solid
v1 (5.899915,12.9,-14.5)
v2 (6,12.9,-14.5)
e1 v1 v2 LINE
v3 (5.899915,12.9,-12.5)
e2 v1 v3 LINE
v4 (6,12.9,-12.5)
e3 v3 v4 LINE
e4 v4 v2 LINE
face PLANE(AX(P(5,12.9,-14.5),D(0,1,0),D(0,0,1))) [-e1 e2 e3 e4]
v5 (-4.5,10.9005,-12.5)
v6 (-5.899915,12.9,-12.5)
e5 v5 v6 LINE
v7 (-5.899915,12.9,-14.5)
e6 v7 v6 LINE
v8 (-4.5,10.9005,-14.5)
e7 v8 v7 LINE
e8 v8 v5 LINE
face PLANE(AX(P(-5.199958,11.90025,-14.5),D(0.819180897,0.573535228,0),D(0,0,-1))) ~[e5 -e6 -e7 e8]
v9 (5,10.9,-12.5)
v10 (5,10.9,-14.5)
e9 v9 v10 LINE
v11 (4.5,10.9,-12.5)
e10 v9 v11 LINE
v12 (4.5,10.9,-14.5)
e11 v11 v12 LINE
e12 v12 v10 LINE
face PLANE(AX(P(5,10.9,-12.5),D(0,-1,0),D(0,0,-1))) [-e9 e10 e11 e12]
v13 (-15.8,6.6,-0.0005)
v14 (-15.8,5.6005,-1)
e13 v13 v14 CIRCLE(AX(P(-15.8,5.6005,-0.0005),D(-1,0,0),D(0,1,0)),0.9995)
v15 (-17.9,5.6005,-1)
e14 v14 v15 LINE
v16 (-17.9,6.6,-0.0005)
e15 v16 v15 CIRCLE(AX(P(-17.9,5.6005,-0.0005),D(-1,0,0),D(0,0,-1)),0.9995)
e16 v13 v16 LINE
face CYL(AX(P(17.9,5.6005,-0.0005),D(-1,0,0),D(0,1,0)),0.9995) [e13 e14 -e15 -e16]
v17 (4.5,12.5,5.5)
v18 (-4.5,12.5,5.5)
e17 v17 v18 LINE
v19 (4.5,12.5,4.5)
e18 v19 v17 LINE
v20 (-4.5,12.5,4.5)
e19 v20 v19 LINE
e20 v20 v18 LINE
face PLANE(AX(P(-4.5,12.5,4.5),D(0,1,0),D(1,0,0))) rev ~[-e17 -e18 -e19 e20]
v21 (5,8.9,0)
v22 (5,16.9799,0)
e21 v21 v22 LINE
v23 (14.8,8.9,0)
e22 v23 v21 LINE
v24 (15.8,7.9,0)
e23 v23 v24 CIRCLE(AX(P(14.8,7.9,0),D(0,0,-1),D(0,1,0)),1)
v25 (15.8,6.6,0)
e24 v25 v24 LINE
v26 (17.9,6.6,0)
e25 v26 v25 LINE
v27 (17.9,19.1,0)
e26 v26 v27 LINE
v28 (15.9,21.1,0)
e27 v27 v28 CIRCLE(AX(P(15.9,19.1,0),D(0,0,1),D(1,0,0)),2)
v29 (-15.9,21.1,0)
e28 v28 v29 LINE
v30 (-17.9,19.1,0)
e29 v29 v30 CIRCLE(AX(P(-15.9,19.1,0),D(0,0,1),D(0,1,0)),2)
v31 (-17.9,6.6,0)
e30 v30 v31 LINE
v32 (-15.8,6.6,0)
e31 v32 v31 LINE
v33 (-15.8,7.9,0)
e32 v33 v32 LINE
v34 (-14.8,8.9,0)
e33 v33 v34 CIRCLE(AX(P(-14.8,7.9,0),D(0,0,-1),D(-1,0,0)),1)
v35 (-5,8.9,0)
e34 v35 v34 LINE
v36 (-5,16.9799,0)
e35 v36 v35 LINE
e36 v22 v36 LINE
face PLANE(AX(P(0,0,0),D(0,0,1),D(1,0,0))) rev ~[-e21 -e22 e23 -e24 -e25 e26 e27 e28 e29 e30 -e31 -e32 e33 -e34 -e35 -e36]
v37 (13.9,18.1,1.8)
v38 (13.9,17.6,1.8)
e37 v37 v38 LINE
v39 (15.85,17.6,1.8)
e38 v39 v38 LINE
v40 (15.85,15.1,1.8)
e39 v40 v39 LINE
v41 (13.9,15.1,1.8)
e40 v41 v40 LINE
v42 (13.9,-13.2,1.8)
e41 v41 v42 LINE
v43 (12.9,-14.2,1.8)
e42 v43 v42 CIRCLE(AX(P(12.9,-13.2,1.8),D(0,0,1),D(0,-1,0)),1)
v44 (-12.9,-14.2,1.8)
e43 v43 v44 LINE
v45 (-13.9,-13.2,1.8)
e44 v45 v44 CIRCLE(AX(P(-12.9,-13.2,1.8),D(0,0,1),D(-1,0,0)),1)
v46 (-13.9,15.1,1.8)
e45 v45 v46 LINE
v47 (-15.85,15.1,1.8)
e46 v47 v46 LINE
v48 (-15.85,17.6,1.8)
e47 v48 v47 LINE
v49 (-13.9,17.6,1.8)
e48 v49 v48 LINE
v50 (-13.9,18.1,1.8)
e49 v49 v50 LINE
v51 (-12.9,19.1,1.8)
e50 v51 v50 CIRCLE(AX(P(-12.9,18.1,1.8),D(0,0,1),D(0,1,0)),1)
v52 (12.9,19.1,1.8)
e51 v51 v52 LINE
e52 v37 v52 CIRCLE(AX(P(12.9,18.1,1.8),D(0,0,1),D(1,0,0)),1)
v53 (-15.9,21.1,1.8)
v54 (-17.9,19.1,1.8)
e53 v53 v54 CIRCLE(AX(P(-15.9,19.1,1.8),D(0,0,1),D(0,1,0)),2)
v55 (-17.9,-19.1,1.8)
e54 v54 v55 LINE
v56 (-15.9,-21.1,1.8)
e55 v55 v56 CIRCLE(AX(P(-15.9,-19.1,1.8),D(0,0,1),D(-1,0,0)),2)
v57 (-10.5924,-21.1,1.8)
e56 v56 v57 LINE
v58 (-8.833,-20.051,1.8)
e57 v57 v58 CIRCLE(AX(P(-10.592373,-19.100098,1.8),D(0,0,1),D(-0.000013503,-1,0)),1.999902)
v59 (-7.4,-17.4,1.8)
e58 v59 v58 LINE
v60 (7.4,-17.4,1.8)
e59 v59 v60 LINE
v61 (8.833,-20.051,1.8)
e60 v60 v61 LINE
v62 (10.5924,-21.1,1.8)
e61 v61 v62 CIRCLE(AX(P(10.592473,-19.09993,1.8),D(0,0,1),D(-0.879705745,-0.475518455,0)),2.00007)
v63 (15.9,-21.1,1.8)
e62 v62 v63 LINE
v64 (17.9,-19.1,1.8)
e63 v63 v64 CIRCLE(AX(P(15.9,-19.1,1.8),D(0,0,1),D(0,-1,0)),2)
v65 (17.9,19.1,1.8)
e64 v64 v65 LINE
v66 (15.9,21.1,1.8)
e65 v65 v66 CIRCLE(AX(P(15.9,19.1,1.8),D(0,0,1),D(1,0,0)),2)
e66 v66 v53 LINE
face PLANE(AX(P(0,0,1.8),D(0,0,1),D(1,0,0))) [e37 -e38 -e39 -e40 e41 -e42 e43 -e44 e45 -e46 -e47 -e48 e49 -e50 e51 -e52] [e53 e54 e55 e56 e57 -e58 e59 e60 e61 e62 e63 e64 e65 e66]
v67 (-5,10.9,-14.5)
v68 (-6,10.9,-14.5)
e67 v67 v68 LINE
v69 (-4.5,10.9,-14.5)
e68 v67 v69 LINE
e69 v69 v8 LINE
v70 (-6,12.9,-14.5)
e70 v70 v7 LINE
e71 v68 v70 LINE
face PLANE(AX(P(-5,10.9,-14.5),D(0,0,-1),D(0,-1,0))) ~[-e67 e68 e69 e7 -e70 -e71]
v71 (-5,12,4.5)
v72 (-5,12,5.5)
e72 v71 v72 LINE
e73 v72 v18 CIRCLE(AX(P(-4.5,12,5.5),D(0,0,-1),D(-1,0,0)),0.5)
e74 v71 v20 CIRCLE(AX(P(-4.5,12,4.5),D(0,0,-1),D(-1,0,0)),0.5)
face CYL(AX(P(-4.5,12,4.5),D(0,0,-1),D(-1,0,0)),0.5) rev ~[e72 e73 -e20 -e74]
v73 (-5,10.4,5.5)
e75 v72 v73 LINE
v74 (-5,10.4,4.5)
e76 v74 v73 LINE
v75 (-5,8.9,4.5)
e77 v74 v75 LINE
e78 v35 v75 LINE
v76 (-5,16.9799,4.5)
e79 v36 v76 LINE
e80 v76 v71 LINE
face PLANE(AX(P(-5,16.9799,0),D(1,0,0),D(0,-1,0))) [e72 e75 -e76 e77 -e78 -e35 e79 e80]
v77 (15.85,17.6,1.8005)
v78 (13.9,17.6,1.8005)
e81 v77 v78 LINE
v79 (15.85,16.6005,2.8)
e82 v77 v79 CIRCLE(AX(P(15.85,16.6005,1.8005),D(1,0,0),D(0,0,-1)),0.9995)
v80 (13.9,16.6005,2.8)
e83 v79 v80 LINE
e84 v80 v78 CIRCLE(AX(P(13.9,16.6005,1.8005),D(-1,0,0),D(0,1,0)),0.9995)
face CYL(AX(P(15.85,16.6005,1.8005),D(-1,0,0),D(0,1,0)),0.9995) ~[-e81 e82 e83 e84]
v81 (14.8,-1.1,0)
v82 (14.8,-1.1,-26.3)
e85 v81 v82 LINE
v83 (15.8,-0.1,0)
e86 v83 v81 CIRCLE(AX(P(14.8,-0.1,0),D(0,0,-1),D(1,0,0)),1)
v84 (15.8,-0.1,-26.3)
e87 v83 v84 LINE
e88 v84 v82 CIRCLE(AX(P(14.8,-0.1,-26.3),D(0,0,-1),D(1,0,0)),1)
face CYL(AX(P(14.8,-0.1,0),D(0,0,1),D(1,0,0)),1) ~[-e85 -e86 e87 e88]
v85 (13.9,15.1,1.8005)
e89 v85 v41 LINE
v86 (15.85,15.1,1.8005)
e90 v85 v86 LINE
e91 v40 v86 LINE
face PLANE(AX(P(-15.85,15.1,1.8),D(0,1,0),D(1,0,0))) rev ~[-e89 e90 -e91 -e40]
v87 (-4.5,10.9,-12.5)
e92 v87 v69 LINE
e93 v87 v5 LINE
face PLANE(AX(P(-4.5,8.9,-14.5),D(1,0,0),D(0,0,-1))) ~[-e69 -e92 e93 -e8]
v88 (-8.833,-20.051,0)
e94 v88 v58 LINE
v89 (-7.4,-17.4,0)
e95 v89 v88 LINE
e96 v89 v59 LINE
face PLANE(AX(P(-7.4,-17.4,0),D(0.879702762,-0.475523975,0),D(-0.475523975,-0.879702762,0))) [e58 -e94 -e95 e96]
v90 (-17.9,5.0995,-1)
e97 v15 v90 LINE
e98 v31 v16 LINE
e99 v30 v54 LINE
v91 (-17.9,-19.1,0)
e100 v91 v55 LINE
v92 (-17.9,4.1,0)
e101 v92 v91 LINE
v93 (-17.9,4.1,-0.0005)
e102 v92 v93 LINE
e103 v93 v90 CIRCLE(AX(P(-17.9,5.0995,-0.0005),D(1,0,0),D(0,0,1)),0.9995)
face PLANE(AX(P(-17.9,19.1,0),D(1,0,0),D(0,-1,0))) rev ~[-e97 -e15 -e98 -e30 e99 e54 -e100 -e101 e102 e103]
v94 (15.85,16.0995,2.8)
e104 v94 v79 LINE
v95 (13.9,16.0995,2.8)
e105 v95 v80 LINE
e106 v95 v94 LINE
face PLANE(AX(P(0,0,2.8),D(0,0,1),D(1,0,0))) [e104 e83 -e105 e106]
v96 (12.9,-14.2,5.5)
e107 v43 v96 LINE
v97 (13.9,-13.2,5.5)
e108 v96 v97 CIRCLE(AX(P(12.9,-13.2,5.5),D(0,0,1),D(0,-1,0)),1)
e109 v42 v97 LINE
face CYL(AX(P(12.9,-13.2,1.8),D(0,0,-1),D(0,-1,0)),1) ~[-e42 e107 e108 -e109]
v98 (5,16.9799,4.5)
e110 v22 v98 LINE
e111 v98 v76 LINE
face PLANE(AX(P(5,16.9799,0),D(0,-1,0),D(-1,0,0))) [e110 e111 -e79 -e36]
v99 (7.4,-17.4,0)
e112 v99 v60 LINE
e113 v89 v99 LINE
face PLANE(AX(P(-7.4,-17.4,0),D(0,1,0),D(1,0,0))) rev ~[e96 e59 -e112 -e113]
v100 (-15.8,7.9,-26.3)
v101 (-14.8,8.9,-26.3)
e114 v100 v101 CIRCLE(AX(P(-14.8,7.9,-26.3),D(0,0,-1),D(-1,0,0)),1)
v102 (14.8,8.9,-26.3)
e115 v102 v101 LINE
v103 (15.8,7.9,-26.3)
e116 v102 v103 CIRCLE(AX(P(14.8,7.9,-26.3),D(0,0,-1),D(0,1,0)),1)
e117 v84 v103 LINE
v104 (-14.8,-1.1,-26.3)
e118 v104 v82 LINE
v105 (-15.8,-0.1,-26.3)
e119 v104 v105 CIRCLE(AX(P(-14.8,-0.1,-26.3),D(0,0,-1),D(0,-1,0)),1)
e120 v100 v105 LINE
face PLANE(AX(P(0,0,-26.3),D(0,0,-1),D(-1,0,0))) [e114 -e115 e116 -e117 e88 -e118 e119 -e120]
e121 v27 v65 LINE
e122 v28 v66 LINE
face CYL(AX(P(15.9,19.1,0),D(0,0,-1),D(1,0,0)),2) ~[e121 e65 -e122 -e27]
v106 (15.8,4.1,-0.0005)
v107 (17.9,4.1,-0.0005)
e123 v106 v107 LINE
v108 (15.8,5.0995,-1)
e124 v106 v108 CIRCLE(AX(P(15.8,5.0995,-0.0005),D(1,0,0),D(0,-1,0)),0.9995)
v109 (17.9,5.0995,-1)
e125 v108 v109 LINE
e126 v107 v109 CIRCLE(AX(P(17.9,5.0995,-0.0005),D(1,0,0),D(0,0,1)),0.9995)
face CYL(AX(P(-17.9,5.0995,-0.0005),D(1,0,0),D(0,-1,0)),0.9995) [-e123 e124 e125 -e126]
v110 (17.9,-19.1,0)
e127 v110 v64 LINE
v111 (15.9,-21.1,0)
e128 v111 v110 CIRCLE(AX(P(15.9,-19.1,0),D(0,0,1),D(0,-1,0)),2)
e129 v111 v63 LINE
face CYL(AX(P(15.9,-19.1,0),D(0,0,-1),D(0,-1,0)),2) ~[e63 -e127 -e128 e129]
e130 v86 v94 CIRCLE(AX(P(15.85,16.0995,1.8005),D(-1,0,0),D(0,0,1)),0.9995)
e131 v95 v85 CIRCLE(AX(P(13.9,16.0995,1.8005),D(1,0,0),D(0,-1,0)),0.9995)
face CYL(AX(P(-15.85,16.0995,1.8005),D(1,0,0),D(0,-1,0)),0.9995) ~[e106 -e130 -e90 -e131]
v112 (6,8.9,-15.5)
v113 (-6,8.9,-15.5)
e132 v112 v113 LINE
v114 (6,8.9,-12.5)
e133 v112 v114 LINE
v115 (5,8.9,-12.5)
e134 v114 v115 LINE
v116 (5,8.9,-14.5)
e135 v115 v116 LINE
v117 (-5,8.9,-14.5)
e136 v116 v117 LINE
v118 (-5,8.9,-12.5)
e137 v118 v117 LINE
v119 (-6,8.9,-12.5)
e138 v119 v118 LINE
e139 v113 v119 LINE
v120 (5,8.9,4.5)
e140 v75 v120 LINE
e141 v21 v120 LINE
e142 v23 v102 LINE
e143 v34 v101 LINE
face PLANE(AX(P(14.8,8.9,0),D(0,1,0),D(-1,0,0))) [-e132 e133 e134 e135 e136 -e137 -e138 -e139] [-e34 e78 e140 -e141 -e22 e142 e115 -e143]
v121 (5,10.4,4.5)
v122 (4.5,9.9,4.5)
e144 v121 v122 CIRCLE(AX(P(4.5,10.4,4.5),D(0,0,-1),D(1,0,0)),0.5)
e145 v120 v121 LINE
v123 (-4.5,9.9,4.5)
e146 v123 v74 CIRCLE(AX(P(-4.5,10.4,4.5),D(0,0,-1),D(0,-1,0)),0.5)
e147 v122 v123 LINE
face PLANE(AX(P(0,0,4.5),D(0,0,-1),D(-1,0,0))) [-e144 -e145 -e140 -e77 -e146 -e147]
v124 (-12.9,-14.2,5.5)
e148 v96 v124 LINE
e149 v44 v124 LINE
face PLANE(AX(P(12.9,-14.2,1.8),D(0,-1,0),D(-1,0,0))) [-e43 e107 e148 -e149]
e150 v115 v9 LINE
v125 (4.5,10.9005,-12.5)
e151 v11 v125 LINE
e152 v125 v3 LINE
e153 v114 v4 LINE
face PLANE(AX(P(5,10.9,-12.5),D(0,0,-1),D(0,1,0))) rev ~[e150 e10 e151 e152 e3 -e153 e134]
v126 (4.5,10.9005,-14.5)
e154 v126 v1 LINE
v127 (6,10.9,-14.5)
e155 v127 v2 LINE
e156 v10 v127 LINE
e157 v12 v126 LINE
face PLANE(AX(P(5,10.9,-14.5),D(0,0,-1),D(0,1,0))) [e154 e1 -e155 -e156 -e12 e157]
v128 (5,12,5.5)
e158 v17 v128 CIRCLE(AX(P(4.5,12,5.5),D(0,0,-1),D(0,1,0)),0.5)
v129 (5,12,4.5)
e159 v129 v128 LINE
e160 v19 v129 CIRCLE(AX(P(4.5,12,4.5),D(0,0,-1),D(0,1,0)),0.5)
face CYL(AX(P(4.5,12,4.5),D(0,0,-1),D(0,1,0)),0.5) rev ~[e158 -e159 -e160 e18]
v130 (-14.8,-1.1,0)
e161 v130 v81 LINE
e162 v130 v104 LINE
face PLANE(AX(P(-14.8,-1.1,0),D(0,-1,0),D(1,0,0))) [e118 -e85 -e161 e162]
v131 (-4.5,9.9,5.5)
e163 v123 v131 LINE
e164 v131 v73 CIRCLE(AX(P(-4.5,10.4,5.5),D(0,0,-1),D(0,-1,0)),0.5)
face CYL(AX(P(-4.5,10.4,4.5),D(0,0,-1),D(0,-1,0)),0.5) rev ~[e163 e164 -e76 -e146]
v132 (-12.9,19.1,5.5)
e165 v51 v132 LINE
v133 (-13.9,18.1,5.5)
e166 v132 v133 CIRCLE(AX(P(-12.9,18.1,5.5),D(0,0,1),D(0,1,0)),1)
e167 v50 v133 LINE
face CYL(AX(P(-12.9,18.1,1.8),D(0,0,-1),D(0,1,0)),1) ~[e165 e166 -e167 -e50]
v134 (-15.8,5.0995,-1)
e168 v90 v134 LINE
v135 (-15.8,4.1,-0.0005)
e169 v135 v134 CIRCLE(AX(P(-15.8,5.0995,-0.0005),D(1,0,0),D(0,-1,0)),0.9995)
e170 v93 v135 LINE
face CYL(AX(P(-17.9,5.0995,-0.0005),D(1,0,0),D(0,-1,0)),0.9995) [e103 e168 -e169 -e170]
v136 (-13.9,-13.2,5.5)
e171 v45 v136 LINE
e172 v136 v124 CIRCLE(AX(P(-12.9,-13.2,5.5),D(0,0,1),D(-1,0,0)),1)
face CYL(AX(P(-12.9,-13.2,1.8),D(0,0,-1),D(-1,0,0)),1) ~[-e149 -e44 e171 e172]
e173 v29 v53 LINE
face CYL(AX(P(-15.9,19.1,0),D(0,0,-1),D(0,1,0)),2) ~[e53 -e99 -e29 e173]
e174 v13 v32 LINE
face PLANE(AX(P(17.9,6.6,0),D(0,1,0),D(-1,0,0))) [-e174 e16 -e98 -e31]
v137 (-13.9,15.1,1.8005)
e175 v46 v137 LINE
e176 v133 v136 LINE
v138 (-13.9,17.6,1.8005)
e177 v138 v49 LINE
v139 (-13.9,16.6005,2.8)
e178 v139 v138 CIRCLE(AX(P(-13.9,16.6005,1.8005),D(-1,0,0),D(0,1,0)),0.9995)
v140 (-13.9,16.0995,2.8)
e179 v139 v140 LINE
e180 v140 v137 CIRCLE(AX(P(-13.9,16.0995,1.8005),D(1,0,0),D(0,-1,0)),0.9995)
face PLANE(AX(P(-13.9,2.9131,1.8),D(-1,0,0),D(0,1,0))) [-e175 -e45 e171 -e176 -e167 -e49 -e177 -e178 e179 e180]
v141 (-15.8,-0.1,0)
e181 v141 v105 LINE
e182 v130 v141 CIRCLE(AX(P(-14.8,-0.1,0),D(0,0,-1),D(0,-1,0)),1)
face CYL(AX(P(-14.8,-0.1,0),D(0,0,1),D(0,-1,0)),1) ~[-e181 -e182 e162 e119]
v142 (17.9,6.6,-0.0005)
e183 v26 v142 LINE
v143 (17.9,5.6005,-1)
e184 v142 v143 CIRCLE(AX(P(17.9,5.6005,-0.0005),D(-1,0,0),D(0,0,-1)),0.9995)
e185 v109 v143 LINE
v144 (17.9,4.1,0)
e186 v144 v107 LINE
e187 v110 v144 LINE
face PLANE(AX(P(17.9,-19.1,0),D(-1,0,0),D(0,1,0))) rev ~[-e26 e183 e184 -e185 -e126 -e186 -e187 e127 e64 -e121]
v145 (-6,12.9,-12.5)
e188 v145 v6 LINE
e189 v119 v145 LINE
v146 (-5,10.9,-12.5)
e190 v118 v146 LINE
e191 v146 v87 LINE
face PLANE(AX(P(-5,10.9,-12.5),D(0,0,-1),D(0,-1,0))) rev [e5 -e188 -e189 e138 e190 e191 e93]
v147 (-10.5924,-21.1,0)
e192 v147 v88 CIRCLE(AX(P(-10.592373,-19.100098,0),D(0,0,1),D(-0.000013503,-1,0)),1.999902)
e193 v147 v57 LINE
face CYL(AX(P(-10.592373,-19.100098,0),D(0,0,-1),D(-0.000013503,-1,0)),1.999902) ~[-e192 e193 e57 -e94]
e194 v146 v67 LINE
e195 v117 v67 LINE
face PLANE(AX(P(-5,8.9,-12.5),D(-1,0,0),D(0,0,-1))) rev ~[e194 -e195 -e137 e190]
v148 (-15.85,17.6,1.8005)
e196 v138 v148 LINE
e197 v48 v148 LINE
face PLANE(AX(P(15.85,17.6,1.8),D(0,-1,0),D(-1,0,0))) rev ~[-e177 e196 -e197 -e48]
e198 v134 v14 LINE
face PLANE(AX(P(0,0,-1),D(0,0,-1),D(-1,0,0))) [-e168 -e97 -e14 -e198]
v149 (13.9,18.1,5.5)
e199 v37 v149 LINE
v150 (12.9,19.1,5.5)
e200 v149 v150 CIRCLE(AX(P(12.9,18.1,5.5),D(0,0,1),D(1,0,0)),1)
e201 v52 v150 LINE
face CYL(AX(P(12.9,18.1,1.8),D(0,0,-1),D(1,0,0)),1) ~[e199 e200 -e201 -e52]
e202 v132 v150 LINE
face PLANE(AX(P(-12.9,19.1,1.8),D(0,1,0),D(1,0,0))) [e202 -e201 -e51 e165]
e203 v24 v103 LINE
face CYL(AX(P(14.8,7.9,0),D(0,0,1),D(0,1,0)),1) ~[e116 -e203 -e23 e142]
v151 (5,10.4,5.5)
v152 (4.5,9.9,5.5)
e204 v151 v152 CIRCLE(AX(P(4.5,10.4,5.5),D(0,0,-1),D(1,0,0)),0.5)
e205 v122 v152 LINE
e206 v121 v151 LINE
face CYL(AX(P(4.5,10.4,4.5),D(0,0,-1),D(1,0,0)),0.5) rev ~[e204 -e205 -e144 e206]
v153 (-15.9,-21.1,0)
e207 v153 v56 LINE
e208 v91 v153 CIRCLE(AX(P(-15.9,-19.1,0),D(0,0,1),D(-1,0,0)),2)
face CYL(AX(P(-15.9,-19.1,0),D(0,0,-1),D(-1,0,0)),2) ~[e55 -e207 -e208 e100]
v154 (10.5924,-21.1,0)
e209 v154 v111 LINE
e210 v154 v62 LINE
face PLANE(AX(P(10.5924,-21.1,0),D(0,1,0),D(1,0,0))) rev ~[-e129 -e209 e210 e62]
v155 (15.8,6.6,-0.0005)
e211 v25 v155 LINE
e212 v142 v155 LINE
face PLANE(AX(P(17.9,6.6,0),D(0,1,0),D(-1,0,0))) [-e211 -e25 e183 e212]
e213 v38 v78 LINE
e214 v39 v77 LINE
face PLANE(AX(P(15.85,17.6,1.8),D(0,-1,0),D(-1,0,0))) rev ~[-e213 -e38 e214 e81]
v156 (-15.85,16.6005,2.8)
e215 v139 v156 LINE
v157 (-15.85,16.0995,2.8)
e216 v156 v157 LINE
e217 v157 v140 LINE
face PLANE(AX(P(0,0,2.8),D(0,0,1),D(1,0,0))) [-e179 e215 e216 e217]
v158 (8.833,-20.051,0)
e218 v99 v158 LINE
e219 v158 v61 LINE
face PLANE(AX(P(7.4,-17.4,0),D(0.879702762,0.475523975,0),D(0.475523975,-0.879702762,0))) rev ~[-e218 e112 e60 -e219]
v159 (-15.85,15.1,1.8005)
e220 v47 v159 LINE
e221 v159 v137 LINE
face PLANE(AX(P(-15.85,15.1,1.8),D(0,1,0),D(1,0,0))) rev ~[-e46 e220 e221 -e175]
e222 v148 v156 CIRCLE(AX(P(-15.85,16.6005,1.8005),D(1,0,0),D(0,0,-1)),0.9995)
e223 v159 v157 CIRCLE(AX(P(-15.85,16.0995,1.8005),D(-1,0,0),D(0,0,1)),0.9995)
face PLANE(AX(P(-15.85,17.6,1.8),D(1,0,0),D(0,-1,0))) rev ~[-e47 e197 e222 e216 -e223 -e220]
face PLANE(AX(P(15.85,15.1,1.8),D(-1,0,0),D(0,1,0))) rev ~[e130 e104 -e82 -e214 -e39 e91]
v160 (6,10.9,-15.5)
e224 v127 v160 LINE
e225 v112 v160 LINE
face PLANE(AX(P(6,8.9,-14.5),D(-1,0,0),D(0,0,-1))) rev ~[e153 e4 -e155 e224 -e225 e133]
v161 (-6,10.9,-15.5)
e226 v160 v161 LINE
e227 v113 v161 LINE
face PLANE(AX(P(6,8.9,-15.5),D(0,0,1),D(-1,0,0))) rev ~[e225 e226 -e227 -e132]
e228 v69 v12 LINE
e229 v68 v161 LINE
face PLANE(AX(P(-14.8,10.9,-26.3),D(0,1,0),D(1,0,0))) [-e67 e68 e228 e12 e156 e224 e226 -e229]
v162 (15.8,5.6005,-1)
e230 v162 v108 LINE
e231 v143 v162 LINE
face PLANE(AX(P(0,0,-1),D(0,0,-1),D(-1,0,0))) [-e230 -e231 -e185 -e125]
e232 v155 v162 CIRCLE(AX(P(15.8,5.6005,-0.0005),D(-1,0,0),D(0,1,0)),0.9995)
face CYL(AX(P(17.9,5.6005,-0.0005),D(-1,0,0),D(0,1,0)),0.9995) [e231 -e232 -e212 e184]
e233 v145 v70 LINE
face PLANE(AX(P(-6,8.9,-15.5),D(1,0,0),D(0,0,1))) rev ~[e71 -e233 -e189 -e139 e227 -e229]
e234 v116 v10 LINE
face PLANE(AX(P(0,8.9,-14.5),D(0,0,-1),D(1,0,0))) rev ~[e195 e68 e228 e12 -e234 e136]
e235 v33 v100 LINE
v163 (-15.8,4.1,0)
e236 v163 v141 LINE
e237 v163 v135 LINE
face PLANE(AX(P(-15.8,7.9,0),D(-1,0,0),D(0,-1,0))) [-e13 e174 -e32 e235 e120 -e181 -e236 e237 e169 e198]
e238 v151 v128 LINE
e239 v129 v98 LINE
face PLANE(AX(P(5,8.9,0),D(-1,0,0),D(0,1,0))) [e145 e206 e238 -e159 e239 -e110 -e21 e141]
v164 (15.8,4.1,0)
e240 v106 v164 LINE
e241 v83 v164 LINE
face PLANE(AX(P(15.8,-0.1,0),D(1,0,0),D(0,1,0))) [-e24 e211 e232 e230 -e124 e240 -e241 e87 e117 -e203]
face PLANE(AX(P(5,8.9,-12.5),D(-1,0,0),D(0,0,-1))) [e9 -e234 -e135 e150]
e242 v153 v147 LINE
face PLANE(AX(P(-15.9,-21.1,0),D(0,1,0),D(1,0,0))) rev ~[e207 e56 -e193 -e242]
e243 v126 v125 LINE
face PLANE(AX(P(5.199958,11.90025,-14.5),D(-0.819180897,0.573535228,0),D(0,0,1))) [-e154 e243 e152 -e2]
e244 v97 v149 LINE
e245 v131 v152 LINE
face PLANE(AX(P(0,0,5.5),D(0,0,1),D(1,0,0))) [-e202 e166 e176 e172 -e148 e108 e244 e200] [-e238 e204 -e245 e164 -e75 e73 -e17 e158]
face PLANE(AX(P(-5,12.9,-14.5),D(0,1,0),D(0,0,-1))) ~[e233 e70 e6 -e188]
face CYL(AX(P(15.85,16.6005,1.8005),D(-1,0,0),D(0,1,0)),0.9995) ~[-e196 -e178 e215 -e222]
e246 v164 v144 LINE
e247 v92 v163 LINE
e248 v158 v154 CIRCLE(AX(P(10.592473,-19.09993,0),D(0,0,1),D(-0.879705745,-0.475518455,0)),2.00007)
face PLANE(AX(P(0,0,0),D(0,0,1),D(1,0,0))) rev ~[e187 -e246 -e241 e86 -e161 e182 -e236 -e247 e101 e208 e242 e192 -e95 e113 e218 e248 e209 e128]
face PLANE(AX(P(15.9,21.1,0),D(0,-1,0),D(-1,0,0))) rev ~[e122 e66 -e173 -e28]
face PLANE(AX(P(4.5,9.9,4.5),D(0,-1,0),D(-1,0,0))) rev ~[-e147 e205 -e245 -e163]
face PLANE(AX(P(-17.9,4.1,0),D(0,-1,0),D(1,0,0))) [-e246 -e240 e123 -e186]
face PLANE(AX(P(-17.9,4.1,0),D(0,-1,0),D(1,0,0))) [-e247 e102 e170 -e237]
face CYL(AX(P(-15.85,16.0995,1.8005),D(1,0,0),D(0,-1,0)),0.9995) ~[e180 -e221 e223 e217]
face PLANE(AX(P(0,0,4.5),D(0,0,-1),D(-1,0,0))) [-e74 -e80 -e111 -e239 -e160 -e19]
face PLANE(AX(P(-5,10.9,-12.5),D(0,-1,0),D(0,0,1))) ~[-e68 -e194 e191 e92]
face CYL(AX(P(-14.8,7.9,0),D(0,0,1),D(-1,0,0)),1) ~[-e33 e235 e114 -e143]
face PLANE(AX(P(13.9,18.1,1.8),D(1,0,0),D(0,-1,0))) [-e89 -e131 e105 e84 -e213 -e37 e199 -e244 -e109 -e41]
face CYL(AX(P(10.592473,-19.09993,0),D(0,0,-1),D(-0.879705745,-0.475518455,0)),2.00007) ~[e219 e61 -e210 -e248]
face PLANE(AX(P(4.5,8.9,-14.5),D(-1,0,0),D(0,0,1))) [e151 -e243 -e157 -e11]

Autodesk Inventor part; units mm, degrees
ref_plane "YZ Plane" through (0, 0, 0) normal (1, 0, 0) x (0, 1, 0)
ref_plane "XZ Plane" through (0, 0, 0) normal (0, 1, 0) x (-1, 0, 0)
ref_plane "XY Plane" through (0, 0, 0) normal (0, 0, 1) x (1, 0, 0)
sketch "Sketch1" plane through (0, 0, 0) normal (0, 0, 1) x (1, 0, 0)
  line L0 (17.9, -19.1) -> (17.9, 19.1)
  line L1 (15.9, 21.1) -> (-15.9, 21.1)
  line L2 (-17.9, 19.1) -> (-17.9, -19.1)
  line L3 (-15.9, -21.1) -> (-10.5924, -21.1)
  line L4 (17.9, -21.1) -> (-17.9, 21.1) construction
  line L5 (17.9, 21.1) -> (-17.9, -21.1) construction
  line L6 (-7.4, -17.4) -> (7.4, -17.4)
  line L7 (-7.4, -17.4) -> (-8.833, -20.051)
  line L8 (7.4, -17.4) -> (8.833, -20.051)
  line L9 (10.5924, -21.1) -> (15.9, -21.1)
  line L10 (-9.4, -21.1) -> (9.4, -21.1)
  arc A0 (-15.9, 21.1) -> (-17.9, 19.1) centre (-15.9, 19.1) ccw
  arc A1 (17.9, 19.1) -> (15.9, 21.1) centre (15.9, 19.1) ccw
  arc A2 (15.9, -21.1) -> (17.9, -19.1) centre (15.9, -19.1) ccw
  arc A3 (8.833, -20.051) -> (10.5924, -21.1) centre (10.5924, -19.1) ccw
  arc A4 (-10.5924, -21.1) -> (-8.833, -20.051) centre (-10.5924, -19.1) ccw
  arc A5 (-17.9, -19.1) -> (-15.9, -21.1) centre (-15.9, -19.1) ccw
  point P0 (0, 0)
  dimension "d0" = 35.8
  dimension "d1" = 42.2
  dimension "d2" = 38.5
  dimension "d3" = 10.5
  dimension "d4" = 10.5
  dimension "d5" = 8.5
  dimension "d6" = 8.5
  dimension "d7" = 2
extrude "Extrusion1" add sketch "Sketch1" along normal blind 1.8
sketch "Sketch2" plane through (0, 0, 1.8) normal (0, 0, 1) x (1, 0, 0)
  line L0 (-15.85, 15.1) -> (15.85, 15.1)
  line L1 (15.85, 15.1) -> (15.85, 17.6)
  line L2 (15.85, 17.6) -> (-15.85, 17.6)
  line L3 (-15.85, 17.6) -> (-15.85, 15.1)
  line L4 (-15.85, 15.1) -> (15.85, 17.6) construction
  line L5 (15.85, 15.1) -> (-15.85, 17.6) construction
  line L6 (15.9, 21.1) -> (-15.9, 21.1) projected
  point P0 (0, 0)
  point P1 (0, 16.35)
  point P2 (0, 16.35)
  point P3 (15.85, 16.35)
  point P4 (-15.85, 16.35)
  dimension "d10" = 2.5
  dimension "d11" = 6
  dimension "d12" = 31.7
extrude "Extrusion2" add sketch "Sketch2" along normal blind 1
fillet "Fillet1" radius 1 2 edges at (0, 17.6, 2.8) (0, 15.1, 2.8)
sketch "Sketch3" plane through (0, 0, 1.8) normal (0, 0, 1) x (1, 0, 0)
  line L0 (-12.9, 19.1) -> (12.9, 19.1)
  line L1 (13.9, 18.1) -> (13.9, -13.2)
  line L2 (12.9, -14.2) -> (-12.9, -14.2)
  line L3 (-13.9, -13.2) -> (-13.9, 18.1)
  line L4 (15.9, 21.1) -> (-15.9, 21.1) projected
  line L5 (-13.9, 2.9131) -> (-17.9, 2.9131)
  line L6 (-17.9, 19.1) -> (-17.9, -19.1) projected
  line L7 (13.9, 2.9131) -> (17.9, 2.9131)
  line L8 (17.9, -19.1) -> (17.9, 19.1) projected
  arc A0 (-12.9, 19.1) -> (-13.9, 18.1) centre (-12.9, 18.1) ccw
  arc A1 (13.9, 18.1) -> (12.9, 19.1) centre (12.9, 18.1) ccw
  arc A2 (12.9, -14.2) -> (13.9, -13.2) centre (12.9, -13.2) ccw
  arc A3 (-13.9, -13.2) -> (-12.9, -14.2) centre (-12.9, -13.2) ccw
  point P0 (0, 0)
  point P1 (13.9, -14.2)
  point P2 (13.9, 19.1)
  point P3 (-13.9, -14.2)
  dimension "d16" = 27.8
  dimension "d17" = 33.3
  dimension "d18" = 2
  dimension "d19" = 1
extrude "Extrusion3" add sketch "Sketch3" along normal blind 3.7
sketch "Sketch4" plane through (0, 0, 0) normal (0, 0, -1) x (-1, 0, 0)
  line L0 (-17.9, -19.1) -> (-17.9, 19.1) projected
  line L1 (17.9, 19.1) -> (17.9, -19.1) projected
  line L2 (-17.9, 6.6) -> (17.9, 6.6)
  line L3 (17.9, 6.6) -> (17.9, 4.1)
  line L4 (17.9, 4.1) -> (-17.9, 4.1)
  line L5 (-17.9, 4.1) -> (-17.9, 6.6)
  line L6 (-15.9, 21.1) -> (15.9, 21.1) projected
  point P0 (0, 0)
  dimension "d22" = 2.5
  dimension "d23" = 17
extrude "Extrusion4" add sketch "Sketch4" along normal blind 1
fillet "Fillet2" radius 1 2 edges at (0, 6.6, -1) (0, 4.1, -1)
sketch "Sketch5" plane through (0, 0, 0) normal (0, 0, -1) x (-1, 0, 0)
  line L0 (-14.8, 8.9) -> (14.8, 8.9)
  line L1 (15.8, 7.9) -> (15.8, -0.1)
  line L2 (14.8, -1.1) -> (-14.8, -1.1)
  line L3 (-15.8, -0.1) -> (-15.8, 7.9)
  line L4 (-15.9, 21.1) -> (15.9, 21.1) projected
  line L5 (-17.9, 6.6) -> (-17.9, 19.1) projected
  line L6 (17.9, 4.1) -> (17.9, -19.1) projected
  arc A0 (-15.8, -0.1) -> (-14.8, -1.1) centre (-14.8, -0.1) ccw
  arc A1 (-14.8, 8.9) -> (-15.8, 7.9) centre (-14.8, 7.9) ccw
  arc A2 (15.8, 7.9) -> (14.8, 8.9) centre (14.8, 7.9) ccw
  arc A3 (14.8, -1.1) -> (15.8, -0.1) centre (14.8, -0.1) ccw
  point P0 (0, 0)
  point P1 (0, 8.9)
  dimension "d27" = 22.2
  dimension "d28" = 2.1
  dimension "d29" = 10
  dimension "d30" = 2.1
  dimension "d31" = 1
extrude "Extrusion5" add sketch "Sketch5" along normal blind 26.3
sketch "Sketch6" plane through (0, 0, 0) normal (0, 0, -1) x (-1, 0, 0)
  line L0 (-5, 16.9799) -> (5, 16.9799)
  line L1 (5, 16.9799) -> (5, 8.9)
  line L2 (5, 8.9) -> (-5, 8.9)
  line L3 (-5, 8.9) -> (-5, 16.9799)
  line L4 (14.8, 8.9) -> (-14.8, 8.9) projected
  line L5 (5, 16.9799) -> (17.9, 16.9799)
  line L6 (17.9, 19.1) -> (17.9, 6.6) projected
  line L7 (-5, 16.9799) -> (-17.9, 16.9799)
  line L8 (-17.9, -19.1) -> (-17.9, 19.1) projected
  point P0 (0, 0)
  point P1 (-5, 12.94)
  dimension "d34" = 10
extrude "Extrusion6" cut sketch "Sketch6" against normal blind 4.5
sketch "Sketch7" plane through (-14.8, 8.9, -26.3) normal (0, 1, 0) x (1, 0, 0)
  line L0 (9.8, -30.8) -> (19.8, -30.8) projected
  line L1 (14.8, -30.8) -> (14.8, -11.8)
  line L2 (8.8, -11.8) -> (20.8, -11.8)
  line L3 (20.8, -11.8) -> (20.8, -10.8)
  line L4 (20.8, -10.8) -> (8.8, -10.8)
  line L5 (8.8, -10.8) -> (8.8, -11.8)
  line L6 (20.8, -11.8) -> (20.8, -13.8)
  line L7 (20.8, -13.8) -> (19.8, -13.8)
  line L8 (19.8, -13.8) -> (19.8, -11.8)
  line L9 (8.8, -11.8) -> (8.8, -13.8)
  line L10 (8.8, -13.8) -> (9.8, -13.8)
  line L11 (9.8, -13.8) -> (9.8, -11.8)
  point P0 (14.8, -26.3)
  dimension "d37" = 19
  dimension "d38" = 12
  dimension "d39" = 1
  dimension "d40" = 1
  dimension "d41" = 2
extrude "Extrusion7" add sketch "Sketch7" along normal blind 2
sketch "Sketch8" plane through (-14.8, 10.9, -26.3) normal (0, 1, 0) x (1, 0, 0)
  line L0 (9.8, -11.8) -> (19.8, -11.8) projected
  line L1 (20.8, -13.8) -> (20.8, -10.8) projected
  line L2 (19.8, -11.8) -> (20.8, -11.8)
  line L3 (20.8, -11.8) -> (20.8, -13.8)
  line L4 (20.8, -13.8) -> (19.8, -13.8)
  line L5 (19.8, -13.8) -> (19.8, -11.8)
  line L6 (9.8, -11.8) -> (9.8, -13.8) projected
  line L7 (8.8, -13.8) -> (8.8, -10.8) projected
  line L8 (9.8, -11.8) -> (8.8, -11.8)
  line L9 (8.8, -11.8) -> (8.8, -13.8)
  line L10 (8.8, -13.8) -> (9.8, -13.8)
  line L11 (9.8, -13.8) -> (9.8, -11.8)
  point P0 (14.8, -26.3)
extrude "Extrusion8" add sketch "Sketch8" along normal blind 2
sketch "Sketch9" plane through (5, 8.9, -14.5) normal (-1, 0, 0) x (0, 0, 1)
  line L0 (0, 2) -> (0, 4) projected
  line L1 (2, 0) -> (2, 4) projected
  line L2 (0, 4) -> (2, 4)
  line L3 (2, 4) -> (2, 2)
  line L4 (2, 2) -> (0, 2)
  line L5 (0, 2) -> (0, 4)
  point P0 (14.5, -8.9)
extrude "Extrusion9" add sketch "Sketch9" along normal blind 0.5
chamfer "Chamfer1" distance 2 angle 35 1 edges at (4.5, 12.9, -13.5) measured on face at (4.5, 11.5667, -13.8333)
mirror "Mirror1" about plane through (0, 0, 0) normal (1, 0, 0) of "Extrusion9", "Chamfer1"
sketch "Sketch10" plane through (0, 0, 4.5) normal (0, 0, -1) x (-1, 0, 0)
  line L0 (-4.5, 9.9) -> (4.5, 9.9)
  line L1 (5, 10.4) -> (5, 12)
  line L2 (4.5, 12.5) -> (-4.5, 12.5)
  line L3 (-5, 12) -> (-5, 10.4)
  line L4 (5, 8.9) -> (-5, 8.9) projected
  line L5 (-5, 8.9) -> (-5, 16.9799) projected
  arc A0 (-5, 10.4) -> (-4.5, 9.9) centre (-4.5, 10.4) ccw
  arc A1 (-4.5, 12.5) -> (-5, 12) centre (-4.5, 12) ccw
  arc A2 (5, 12) -> (4.5, 12.5) centre (4.5, 12) ccw
  arc A3 (4.5, 9.9) -> (5, 10.4) centre (4.5, 10.4) ccw
  point P0 (0, 0)
  point P1 (-5, 11.2)
  dimension "d51" = 1
  dimension "d52" = 10
  dimension "d53" = 0.5
  dimension "d54" = 2.6
extrude "Extrusion10" cut sketch "Sketch10" against normal blind 2
properties part number "PS2 USB C PD Mount"
